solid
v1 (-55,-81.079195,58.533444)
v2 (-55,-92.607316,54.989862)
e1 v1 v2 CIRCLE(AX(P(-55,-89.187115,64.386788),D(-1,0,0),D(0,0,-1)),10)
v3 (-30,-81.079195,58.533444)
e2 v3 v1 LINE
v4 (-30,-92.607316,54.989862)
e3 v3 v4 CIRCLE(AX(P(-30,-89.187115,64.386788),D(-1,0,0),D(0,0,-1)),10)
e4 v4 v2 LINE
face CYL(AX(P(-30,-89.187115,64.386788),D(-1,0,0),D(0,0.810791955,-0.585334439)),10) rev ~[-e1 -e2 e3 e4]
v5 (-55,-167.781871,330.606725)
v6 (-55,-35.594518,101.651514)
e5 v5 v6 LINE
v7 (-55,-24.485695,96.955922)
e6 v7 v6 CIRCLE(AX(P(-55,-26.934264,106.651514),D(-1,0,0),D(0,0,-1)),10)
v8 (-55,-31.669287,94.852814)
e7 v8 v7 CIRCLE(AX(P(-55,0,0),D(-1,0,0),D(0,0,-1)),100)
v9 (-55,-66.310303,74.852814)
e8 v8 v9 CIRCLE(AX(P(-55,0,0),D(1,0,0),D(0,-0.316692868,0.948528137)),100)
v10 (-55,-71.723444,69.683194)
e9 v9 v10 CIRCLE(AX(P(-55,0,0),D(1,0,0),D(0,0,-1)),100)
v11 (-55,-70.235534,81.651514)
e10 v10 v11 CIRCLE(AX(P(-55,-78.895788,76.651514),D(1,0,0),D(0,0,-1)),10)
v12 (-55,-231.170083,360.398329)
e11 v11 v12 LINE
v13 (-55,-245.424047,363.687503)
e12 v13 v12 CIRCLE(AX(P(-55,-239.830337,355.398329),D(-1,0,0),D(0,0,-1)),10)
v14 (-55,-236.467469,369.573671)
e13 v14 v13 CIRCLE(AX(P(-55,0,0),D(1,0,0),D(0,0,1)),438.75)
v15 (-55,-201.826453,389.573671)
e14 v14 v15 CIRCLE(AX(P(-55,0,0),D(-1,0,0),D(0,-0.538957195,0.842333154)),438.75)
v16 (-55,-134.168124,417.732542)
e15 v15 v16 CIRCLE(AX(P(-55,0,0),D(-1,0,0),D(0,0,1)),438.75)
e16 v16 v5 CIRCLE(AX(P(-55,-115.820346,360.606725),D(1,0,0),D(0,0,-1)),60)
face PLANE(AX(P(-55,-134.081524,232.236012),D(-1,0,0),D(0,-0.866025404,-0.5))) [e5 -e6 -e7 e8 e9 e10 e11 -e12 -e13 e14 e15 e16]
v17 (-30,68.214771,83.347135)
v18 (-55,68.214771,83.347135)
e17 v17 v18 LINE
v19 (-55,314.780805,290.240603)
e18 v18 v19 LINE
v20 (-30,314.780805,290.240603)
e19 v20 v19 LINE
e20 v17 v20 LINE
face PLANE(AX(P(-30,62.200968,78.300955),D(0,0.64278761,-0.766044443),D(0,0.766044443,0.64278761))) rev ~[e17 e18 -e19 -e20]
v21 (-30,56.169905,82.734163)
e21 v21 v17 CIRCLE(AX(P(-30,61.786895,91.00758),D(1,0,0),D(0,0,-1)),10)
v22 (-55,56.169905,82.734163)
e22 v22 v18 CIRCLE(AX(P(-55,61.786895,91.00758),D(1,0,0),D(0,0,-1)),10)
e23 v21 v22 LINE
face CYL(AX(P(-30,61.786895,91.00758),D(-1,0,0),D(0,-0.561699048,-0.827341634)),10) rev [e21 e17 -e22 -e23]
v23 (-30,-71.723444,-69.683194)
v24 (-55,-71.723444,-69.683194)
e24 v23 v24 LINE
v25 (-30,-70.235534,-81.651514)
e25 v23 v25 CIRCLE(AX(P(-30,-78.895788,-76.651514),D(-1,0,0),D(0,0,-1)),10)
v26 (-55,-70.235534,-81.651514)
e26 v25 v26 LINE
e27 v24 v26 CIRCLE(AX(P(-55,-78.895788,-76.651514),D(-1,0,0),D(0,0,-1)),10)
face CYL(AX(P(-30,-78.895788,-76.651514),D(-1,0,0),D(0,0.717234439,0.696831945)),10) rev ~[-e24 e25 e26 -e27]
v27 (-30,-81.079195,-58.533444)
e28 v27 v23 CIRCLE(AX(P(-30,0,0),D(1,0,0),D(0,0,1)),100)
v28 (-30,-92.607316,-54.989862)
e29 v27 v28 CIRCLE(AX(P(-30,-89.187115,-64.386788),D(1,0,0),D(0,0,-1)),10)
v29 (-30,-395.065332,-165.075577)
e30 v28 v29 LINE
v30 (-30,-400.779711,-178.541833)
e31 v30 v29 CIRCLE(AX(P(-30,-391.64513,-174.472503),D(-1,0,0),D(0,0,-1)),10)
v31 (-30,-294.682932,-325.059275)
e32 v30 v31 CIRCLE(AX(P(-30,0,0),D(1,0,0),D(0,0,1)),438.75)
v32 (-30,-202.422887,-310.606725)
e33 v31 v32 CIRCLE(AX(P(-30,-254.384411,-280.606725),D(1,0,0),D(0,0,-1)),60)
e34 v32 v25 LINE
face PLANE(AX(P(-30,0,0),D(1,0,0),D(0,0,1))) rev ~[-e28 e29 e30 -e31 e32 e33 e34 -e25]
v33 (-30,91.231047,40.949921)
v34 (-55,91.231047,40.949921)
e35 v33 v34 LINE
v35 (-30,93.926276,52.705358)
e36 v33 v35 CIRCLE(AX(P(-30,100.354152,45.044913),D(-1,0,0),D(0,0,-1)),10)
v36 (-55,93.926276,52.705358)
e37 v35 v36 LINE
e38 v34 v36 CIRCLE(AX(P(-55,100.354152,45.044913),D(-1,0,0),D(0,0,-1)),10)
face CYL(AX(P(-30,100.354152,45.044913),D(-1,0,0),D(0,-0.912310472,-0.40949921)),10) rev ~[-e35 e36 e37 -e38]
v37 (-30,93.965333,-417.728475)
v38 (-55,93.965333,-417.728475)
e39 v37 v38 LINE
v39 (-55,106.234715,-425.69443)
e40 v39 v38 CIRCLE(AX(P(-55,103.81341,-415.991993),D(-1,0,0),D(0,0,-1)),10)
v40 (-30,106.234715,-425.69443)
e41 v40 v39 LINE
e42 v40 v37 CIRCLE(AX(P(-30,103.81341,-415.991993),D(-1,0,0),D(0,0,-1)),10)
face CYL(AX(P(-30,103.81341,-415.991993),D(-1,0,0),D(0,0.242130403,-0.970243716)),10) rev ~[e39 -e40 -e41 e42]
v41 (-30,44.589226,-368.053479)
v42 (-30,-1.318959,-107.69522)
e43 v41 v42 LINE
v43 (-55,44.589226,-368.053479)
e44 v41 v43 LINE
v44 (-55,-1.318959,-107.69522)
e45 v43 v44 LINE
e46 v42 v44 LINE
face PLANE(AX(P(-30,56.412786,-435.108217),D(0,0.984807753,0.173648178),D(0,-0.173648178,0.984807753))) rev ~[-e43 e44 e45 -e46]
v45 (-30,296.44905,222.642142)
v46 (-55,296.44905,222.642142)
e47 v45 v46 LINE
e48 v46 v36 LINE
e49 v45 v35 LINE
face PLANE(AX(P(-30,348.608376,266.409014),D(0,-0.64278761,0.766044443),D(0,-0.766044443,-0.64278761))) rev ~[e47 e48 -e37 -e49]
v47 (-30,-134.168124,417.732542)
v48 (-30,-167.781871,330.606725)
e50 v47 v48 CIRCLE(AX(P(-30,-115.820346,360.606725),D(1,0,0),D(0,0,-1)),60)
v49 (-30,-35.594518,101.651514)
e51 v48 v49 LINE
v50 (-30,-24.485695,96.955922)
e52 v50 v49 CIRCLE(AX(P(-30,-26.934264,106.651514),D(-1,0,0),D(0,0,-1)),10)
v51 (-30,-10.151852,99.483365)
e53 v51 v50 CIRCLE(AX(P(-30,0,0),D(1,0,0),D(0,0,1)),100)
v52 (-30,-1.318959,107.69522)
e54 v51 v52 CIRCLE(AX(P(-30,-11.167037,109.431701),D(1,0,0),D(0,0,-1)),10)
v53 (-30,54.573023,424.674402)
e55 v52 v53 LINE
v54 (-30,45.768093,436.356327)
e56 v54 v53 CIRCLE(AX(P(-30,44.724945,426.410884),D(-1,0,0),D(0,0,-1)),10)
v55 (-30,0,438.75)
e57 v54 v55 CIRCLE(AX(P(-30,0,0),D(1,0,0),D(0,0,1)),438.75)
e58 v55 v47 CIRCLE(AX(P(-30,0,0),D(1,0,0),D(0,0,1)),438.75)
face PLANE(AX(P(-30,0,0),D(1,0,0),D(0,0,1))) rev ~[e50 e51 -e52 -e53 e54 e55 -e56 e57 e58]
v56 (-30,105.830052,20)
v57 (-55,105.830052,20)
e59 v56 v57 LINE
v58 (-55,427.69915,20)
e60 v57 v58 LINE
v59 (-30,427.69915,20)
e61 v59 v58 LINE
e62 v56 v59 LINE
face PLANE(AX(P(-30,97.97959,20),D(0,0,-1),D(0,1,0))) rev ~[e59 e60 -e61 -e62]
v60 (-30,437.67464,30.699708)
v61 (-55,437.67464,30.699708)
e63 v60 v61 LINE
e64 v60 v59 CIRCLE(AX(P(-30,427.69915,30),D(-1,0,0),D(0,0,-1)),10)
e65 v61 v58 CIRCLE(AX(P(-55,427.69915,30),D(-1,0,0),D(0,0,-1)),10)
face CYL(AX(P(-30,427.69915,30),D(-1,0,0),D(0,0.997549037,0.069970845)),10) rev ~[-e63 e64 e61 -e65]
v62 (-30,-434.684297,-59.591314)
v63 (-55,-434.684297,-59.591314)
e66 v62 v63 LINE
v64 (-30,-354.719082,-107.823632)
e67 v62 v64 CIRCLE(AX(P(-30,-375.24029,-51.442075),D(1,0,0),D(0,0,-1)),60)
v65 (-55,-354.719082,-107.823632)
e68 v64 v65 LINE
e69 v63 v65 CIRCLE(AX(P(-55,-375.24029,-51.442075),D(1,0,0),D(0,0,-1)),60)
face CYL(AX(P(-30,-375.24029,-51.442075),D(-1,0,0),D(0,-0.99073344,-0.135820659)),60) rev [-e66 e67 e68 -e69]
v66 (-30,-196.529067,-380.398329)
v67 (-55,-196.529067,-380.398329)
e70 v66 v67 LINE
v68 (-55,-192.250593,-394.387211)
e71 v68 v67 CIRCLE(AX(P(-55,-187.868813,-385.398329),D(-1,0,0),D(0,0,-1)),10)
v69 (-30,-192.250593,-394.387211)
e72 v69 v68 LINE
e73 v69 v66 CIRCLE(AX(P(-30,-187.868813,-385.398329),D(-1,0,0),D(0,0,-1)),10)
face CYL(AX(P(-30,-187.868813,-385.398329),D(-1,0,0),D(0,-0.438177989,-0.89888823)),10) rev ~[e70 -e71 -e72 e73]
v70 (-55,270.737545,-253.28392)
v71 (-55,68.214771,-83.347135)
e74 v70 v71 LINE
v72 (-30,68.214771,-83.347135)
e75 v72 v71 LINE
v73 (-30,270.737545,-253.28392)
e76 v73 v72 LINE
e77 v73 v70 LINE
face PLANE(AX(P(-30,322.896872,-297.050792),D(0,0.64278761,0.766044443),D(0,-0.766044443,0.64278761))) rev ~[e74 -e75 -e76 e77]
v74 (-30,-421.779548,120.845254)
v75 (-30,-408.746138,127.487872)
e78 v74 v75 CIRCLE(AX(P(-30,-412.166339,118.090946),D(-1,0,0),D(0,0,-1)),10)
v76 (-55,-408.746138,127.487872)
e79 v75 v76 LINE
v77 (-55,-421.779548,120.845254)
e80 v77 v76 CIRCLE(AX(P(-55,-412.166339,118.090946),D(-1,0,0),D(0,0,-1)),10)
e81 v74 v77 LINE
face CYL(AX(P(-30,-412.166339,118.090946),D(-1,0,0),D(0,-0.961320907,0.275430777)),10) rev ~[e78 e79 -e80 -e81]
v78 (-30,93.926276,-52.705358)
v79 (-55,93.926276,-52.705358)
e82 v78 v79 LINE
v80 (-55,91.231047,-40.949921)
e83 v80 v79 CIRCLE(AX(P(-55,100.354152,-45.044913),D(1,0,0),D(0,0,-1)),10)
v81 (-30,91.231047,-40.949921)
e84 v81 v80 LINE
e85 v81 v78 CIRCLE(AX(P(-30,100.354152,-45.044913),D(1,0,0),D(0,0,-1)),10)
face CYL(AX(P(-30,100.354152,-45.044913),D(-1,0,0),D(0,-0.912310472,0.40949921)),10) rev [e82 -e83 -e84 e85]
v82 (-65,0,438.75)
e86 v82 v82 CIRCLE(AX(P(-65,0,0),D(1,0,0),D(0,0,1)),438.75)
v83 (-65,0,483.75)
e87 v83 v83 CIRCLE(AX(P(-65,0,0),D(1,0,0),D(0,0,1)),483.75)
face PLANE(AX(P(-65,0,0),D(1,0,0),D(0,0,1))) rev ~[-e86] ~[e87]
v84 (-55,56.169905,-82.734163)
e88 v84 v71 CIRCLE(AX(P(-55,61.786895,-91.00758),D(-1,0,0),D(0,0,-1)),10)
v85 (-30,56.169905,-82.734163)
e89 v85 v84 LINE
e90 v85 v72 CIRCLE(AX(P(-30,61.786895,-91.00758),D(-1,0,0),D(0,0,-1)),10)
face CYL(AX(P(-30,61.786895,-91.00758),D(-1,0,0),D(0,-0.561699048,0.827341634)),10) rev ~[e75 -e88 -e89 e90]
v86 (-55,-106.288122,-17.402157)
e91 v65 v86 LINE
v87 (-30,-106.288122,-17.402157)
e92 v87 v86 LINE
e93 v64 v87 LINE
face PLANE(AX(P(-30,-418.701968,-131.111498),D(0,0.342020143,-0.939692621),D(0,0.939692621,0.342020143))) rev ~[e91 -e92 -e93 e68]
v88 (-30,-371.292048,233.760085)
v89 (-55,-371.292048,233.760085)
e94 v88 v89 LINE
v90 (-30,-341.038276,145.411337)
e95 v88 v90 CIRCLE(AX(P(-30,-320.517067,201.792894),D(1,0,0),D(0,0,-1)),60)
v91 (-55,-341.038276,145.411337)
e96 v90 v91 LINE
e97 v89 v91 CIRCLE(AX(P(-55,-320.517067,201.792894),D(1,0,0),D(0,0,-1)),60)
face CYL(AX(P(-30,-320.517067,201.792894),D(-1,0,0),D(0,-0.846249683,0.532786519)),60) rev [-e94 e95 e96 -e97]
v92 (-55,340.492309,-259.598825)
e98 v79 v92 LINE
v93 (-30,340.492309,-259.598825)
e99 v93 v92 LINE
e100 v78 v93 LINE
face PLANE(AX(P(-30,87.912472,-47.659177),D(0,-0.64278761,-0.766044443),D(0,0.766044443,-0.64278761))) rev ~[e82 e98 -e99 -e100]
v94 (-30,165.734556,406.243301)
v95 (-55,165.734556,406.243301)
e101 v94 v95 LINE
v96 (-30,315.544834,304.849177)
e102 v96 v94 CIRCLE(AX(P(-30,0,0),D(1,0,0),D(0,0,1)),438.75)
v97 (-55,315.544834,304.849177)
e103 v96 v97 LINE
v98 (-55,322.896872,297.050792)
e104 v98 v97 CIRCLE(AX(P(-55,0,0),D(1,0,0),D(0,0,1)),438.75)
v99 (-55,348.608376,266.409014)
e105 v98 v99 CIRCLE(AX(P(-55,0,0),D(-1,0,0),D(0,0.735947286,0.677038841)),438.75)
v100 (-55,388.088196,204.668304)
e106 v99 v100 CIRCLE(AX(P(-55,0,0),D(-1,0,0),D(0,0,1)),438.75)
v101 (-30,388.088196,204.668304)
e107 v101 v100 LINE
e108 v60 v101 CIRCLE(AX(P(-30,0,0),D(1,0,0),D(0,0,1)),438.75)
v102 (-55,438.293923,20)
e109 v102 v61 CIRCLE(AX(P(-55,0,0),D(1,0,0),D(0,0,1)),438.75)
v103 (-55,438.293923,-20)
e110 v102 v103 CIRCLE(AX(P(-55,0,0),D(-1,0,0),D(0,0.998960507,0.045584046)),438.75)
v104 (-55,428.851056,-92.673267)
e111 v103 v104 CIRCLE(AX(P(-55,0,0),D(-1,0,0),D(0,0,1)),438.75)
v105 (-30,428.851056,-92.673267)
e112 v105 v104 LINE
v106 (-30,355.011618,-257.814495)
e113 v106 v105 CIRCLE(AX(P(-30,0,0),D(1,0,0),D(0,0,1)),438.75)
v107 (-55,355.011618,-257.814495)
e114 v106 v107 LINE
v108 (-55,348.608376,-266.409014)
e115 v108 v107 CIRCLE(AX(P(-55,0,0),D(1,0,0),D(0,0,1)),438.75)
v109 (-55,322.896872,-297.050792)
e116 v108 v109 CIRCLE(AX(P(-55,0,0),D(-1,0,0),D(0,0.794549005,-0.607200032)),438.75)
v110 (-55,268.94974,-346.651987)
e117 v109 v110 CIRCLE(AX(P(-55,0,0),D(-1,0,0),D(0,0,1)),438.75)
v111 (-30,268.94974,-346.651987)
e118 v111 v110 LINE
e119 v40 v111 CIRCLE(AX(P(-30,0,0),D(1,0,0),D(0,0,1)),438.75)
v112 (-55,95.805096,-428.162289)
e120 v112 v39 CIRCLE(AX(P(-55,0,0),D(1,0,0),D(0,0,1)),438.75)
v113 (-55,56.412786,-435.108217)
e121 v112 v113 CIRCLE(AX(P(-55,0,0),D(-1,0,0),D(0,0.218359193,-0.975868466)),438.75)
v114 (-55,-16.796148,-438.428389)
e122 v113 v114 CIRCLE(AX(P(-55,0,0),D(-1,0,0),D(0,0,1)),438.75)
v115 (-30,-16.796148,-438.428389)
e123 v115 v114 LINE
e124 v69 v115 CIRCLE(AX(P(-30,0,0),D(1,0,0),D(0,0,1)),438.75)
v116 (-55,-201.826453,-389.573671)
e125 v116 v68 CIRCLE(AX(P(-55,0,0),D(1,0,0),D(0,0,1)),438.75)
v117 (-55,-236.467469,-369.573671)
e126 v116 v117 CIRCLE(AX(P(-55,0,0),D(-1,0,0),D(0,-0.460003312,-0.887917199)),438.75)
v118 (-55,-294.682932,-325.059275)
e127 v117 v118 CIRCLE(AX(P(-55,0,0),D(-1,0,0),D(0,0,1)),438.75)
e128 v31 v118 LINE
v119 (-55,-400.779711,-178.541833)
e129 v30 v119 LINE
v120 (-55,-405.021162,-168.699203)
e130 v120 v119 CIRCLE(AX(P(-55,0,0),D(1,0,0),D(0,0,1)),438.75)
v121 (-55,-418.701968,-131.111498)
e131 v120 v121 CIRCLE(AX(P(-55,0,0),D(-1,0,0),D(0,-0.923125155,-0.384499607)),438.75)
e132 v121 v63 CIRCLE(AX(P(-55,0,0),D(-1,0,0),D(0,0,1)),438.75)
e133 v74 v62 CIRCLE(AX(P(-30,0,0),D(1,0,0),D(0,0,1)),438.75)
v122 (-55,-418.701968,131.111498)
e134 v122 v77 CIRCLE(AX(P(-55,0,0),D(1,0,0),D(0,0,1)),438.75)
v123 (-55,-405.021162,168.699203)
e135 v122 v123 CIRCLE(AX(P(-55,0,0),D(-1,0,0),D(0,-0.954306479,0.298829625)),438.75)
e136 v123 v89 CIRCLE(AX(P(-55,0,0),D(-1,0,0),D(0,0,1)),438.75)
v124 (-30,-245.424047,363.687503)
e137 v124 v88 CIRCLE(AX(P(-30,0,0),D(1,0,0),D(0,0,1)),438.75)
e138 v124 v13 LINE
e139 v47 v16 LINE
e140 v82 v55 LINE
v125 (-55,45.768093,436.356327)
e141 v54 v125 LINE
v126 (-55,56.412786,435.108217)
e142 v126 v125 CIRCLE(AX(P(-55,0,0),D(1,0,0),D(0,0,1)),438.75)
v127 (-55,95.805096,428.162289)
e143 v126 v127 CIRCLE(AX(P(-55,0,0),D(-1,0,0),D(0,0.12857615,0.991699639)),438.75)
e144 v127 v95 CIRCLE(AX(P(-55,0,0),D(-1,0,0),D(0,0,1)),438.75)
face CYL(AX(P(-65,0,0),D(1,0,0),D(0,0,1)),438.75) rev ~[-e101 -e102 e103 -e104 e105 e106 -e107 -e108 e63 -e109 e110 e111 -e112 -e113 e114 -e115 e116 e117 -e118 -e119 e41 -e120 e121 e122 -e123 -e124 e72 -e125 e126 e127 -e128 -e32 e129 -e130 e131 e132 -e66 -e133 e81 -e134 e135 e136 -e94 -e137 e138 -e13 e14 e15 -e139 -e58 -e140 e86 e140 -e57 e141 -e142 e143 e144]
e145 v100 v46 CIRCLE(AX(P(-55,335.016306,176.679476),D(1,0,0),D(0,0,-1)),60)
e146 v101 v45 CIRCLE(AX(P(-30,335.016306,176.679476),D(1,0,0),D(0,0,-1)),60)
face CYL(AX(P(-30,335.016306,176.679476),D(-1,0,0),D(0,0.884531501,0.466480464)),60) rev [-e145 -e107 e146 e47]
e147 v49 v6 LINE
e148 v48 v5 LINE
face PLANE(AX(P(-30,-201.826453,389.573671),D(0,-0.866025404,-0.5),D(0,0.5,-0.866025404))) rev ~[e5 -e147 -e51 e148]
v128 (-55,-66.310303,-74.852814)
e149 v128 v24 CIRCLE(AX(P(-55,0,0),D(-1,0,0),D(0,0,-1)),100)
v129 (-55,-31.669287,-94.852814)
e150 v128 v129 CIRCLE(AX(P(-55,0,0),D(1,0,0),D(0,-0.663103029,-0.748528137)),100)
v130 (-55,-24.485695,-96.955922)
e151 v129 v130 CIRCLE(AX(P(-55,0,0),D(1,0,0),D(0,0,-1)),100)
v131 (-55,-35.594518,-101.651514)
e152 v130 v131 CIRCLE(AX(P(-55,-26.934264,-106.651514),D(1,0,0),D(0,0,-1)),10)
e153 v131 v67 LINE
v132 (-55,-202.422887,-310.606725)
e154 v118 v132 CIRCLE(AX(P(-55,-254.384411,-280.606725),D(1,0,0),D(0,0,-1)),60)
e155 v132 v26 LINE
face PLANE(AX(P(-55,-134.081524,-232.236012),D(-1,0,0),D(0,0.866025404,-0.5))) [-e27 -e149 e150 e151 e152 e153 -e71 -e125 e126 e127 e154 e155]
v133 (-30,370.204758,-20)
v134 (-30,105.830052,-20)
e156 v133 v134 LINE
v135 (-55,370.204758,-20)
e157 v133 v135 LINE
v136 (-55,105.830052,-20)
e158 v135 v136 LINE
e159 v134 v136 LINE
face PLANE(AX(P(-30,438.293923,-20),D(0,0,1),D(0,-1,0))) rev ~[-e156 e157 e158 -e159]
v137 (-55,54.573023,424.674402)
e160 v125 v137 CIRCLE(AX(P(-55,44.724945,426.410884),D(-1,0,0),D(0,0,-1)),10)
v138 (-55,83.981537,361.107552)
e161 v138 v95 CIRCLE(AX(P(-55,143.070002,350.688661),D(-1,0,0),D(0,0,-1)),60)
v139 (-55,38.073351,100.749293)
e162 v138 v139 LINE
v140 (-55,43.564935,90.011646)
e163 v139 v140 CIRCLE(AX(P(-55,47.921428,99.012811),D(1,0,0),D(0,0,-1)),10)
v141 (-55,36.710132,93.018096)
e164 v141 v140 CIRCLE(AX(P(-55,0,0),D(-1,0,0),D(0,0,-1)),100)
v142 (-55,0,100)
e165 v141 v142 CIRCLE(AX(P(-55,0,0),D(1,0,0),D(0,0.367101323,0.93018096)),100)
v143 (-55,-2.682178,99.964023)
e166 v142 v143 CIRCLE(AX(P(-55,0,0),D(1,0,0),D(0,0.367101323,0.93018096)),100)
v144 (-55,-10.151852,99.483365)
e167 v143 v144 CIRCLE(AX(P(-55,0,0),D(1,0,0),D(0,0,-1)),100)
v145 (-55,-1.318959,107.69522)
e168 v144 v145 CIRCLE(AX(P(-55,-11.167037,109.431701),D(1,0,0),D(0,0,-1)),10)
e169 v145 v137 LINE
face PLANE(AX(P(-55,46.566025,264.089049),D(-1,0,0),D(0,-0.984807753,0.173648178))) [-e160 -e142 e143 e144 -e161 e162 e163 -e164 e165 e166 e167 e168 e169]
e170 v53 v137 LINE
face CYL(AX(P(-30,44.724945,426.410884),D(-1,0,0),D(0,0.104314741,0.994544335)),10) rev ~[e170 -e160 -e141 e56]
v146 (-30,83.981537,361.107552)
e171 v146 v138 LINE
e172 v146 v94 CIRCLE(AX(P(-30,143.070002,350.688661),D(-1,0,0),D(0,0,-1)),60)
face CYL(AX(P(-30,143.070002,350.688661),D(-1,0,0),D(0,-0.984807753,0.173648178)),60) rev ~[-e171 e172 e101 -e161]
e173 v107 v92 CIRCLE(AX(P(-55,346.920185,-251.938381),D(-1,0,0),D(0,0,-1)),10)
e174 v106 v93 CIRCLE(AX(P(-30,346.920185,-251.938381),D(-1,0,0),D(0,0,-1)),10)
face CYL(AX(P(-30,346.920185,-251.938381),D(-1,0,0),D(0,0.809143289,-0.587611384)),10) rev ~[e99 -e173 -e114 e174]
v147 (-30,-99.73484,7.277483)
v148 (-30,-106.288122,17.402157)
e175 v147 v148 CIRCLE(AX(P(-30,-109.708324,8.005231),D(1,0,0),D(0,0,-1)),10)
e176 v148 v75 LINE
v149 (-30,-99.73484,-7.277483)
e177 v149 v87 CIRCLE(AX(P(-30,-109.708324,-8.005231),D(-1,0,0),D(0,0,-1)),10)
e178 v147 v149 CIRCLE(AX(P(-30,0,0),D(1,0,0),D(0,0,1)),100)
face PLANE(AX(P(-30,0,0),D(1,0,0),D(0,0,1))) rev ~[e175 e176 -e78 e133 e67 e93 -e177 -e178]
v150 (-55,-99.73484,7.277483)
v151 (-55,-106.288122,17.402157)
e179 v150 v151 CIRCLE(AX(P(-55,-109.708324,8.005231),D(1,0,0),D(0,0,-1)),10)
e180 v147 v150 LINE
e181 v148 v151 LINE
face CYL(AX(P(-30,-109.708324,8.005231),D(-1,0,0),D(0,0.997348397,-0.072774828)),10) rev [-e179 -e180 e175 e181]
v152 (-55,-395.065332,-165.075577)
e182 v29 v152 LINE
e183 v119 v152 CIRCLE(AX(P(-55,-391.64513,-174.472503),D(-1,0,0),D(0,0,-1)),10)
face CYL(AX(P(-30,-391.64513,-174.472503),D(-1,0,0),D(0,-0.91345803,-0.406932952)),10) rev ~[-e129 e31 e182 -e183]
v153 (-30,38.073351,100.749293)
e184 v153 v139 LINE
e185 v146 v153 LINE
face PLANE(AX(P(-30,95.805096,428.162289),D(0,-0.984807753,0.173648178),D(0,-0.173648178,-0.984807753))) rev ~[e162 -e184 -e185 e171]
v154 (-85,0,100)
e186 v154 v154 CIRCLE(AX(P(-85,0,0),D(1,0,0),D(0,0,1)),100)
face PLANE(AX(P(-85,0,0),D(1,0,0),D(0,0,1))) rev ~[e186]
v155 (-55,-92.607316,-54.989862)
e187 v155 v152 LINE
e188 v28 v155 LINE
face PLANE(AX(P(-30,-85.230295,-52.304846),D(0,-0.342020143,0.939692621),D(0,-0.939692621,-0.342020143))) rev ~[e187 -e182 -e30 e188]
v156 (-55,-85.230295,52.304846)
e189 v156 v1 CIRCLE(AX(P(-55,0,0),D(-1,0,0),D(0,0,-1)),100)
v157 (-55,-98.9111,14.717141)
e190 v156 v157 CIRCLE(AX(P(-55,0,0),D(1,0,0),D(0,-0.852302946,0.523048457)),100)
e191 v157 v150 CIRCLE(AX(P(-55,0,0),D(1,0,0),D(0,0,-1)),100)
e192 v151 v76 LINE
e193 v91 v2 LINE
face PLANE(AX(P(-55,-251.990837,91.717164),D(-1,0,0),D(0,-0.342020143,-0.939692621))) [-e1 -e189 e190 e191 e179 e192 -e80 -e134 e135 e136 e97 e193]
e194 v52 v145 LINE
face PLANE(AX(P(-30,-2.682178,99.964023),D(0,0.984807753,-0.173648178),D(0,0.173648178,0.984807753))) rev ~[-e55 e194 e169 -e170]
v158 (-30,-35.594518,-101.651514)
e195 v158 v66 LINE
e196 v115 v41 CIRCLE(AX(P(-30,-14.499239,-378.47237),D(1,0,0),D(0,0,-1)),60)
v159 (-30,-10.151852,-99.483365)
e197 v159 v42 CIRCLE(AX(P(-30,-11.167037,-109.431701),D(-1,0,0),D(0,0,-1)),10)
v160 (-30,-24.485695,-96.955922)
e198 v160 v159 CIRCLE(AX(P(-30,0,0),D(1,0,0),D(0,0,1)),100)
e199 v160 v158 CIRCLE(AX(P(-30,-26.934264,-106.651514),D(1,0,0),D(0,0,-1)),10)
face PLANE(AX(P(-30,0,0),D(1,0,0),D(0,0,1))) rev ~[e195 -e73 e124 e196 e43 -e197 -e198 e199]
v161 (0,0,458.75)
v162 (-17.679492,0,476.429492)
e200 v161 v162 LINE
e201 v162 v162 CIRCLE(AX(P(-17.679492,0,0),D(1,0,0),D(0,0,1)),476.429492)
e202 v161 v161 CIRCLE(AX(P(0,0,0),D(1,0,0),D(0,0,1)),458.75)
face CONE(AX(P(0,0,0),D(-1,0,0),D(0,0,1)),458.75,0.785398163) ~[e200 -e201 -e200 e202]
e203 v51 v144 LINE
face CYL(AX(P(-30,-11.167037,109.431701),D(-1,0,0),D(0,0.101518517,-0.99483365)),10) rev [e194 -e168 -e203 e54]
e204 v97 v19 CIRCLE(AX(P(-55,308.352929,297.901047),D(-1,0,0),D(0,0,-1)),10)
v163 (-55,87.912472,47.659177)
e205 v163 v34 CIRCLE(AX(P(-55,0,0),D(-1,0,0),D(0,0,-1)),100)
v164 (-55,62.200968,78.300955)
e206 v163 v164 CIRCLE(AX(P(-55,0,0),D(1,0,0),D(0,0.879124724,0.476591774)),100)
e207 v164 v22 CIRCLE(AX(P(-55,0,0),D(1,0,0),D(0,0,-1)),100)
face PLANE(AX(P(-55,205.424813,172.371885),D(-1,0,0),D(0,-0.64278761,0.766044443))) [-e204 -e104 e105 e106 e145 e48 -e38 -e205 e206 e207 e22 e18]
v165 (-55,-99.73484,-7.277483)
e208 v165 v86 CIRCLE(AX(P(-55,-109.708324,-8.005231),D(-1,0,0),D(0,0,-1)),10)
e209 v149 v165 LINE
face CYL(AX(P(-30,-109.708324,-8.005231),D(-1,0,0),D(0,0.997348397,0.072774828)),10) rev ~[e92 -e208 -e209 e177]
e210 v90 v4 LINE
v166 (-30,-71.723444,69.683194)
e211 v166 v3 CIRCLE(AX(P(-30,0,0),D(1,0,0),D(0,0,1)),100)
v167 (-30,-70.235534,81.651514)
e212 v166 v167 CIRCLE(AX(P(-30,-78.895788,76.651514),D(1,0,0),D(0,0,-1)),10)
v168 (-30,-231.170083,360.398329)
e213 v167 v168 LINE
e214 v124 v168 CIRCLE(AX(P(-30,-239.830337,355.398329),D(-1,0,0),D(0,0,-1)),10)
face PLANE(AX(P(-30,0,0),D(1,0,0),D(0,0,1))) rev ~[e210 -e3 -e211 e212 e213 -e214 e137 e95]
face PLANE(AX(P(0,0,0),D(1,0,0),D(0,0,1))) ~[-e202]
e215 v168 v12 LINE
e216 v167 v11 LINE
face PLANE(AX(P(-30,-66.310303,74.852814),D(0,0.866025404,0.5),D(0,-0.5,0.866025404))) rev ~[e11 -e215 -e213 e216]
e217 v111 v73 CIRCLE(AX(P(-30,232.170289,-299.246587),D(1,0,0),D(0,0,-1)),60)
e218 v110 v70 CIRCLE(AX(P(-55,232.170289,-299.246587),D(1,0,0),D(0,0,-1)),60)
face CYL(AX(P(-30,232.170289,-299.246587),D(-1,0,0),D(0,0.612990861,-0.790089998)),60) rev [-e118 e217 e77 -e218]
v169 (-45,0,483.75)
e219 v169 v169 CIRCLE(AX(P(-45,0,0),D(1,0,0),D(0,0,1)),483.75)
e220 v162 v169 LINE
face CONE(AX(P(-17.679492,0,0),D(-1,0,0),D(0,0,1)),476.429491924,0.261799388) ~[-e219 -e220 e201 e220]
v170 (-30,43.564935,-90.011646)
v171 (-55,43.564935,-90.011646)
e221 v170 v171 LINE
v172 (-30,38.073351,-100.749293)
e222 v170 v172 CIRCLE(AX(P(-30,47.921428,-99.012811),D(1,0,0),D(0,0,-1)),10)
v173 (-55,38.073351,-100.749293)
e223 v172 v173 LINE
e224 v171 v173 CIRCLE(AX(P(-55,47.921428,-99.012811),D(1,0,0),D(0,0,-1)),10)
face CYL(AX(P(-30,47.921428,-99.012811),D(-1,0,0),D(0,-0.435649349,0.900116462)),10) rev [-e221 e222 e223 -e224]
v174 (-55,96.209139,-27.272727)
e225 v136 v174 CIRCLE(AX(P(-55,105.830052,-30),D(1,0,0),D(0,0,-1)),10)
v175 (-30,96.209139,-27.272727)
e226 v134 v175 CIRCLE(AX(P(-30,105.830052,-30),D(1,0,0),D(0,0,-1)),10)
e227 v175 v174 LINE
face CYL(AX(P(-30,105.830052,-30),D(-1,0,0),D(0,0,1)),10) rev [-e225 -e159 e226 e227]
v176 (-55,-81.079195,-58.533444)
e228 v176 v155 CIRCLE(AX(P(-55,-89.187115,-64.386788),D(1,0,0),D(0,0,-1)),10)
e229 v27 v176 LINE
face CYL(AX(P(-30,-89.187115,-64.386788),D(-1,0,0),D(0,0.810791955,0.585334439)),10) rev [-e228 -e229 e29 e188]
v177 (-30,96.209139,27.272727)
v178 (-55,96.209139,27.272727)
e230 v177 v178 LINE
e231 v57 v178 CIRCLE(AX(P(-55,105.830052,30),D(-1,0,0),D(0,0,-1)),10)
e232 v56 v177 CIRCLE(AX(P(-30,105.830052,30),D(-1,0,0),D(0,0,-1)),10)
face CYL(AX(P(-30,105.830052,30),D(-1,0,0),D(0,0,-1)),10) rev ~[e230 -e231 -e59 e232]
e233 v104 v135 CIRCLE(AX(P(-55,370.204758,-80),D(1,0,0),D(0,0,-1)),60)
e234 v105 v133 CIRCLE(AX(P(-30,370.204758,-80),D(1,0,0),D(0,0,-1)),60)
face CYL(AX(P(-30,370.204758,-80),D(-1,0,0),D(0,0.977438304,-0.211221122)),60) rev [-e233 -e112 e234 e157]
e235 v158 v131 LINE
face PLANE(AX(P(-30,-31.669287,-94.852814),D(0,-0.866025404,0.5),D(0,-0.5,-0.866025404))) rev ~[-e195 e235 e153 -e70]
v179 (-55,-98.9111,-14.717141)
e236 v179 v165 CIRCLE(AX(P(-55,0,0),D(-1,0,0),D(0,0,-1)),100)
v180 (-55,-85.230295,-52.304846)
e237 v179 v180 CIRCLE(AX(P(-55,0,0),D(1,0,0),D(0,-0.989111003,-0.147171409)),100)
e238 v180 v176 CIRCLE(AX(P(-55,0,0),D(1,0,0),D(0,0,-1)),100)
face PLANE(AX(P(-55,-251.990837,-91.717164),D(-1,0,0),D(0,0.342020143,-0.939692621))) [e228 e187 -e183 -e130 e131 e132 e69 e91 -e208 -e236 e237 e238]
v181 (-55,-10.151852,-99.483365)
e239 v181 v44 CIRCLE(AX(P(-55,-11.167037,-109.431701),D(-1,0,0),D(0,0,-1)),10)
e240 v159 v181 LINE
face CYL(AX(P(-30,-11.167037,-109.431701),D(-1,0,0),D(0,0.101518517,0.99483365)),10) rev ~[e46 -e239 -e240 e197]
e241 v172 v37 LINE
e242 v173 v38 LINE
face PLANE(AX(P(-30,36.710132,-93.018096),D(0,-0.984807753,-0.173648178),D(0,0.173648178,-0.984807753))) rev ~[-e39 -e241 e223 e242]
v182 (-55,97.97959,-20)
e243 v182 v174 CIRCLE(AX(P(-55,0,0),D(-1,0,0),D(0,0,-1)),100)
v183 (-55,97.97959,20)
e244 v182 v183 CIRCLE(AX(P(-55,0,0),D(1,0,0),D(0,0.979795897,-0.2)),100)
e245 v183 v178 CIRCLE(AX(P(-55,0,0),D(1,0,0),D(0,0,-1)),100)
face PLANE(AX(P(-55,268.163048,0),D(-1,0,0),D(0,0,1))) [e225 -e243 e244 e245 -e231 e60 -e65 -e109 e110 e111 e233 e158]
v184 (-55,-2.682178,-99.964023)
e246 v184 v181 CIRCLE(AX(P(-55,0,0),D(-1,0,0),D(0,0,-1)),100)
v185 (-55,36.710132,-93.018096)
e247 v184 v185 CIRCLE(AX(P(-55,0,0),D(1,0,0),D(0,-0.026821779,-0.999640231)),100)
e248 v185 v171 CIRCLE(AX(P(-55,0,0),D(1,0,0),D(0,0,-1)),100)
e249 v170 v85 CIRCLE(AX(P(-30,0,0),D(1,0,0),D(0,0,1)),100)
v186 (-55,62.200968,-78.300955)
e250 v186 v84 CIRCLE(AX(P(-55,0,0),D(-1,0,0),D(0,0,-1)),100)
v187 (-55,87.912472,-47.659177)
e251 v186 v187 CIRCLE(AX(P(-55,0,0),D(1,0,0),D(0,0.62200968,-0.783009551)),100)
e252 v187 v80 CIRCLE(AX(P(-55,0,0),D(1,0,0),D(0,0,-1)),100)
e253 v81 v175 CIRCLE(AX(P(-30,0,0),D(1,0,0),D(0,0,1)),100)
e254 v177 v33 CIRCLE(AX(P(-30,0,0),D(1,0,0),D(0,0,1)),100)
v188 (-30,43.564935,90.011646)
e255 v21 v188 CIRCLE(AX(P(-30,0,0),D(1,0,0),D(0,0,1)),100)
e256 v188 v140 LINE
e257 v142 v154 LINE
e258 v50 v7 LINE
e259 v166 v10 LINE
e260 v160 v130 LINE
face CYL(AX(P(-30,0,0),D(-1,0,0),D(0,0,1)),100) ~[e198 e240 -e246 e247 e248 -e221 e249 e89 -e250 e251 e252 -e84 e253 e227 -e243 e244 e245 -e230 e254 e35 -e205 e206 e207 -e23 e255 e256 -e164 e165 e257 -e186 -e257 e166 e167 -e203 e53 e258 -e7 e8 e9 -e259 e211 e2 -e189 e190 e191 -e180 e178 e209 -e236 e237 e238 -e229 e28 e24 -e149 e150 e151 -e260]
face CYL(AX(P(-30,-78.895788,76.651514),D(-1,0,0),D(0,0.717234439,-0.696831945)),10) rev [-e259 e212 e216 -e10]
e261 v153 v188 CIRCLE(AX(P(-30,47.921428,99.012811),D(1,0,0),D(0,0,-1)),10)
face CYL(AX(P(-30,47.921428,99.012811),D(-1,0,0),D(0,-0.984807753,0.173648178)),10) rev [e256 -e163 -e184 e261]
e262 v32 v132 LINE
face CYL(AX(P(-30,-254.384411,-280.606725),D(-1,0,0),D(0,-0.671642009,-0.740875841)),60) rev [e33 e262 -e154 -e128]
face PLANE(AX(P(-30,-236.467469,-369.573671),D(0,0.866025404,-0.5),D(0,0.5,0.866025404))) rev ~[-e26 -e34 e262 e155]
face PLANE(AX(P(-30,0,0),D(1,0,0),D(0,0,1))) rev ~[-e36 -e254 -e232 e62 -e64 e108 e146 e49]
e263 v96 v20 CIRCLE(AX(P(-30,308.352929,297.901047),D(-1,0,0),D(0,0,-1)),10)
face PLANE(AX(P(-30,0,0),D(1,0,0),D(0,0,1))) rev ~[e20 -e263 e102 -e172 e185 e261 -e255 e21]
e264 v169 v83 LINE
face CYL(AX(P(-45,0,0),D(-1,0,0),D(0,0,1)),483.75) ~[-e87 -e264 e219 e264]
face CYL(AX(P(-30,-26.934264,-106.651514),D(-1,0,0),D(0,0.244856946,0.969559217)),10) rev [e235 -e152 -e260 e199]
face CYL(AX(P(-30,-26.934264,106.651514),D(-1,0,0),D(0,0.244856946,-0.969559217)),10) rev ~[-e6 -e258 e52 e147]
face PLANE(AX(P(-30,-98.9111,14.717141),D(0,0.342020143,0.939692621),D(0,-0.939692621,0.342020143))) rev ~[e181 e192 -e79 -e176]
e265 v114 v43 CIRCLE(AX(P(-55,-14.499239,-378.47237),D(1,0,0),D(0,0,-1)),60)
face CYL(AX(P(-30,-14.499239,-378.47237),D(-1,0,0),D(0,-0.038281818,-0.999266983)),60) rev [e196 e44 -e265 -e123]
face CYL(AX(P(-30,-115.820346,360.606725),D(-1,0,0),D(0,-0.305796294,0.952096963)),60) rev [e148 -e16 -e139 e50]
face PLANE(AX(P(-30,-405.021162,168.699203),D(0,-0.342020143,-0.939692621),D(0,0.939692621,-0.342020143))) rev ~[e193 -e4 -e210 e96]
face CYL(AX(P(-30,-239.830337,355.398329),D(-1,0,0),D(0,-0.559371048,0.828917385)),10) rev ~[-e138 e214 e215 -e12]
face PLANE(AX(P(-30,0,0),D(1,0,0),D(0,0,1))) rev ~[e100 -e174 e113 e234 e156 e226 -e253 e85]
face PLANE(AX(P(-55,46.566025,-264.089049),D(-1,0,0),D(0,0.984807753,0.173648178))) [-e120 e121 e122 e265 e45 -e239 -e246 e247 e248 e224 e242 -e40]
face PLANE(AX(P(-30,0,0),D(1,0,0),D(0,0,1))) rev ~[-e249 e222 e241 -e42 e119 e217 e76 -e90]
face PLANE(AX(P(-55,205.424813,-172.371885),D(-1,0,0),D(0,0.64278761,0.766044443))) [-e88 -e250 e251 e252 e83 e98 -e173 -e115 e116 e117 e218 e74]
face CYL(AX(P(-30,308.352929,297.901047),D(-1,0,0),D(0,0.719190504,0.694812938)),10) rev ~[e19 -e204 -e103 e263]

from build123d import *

# Parameters (mm, degrees)
EXTRUDE_1_DEPTH                  = 25
FILLET_3_R                       = 60
FILLET_4_R                       = 10
PATTERN_CIRCULAR_1_COUNT         = 9
FILLET_3_OF_PATTERN_CIRCULAR_1_R = 60
FILLET_4_OF_PATTERN_CIRCULAR_1_R = 10


with BuildPart() as part:
    # 草图1 → 旋转1 (revolve)
    with BuildSketch(Plane.XY, mode=Mode.PRIVATE) as revolve_1_sk:
        Polygon((0, 0), (0, 458.75), (-17.679491924, 476.429491924), (-45, 483.75), (-65, 483.75), (-65, 438.75), (-30, 438.75), (-30, 100), (-85, 100), (-85, 0), align=None)
    revolve(revolve_1_sk.sketch.rotate(Axis((-619.297947583, 0, 0), (1, 0, 0)), 90), axis=Axis((-619.297947583, 0, 0), (1, 0, 0)))

    # 草图3 → 凸台-拉伸1 (add)
    with BuildSketch(Plane.ZY.offset(30)):
        with BuildLine():
            ThreePointArc((20, 438.2939225), (0, 438.75), (-20, 438.2939225))
            Line((-20, 438.2939225), (-20, 97.979589711))
            ThreePointArc((-20, 97.979589711), (0, 100), (20, 97.979589711))
            Line((20, 97.979589711), (20, 438.2939225))
        make_face()
    extrude_1 = extrude(amount=EXTRUDE_1_DEPTH)

    # 圆角3
    fillet_3_edges = [part.edges().sort_by_distance(p)[0] for p in [
        (-42.5, 438.2939225, -20),
    ]]
    fillet(fillet_3_edges, radius=FILLET_3_R)

    # 圆角4
    fillet_4_edges = [part.edges().sort_by_distance(p)[0] for p in [
        (-42.5, 438.2939225, 20),
        (-42.5, 97.979589711, 20),
        (-42.5, 97.979589711, -20),
    ]]
    fillet(fillet_4_edges, radius=FILLET_4_R)

    # 阵列(圆周)1: 凸台-拉伸1 ×9 about axis
    pattern_circular_1_axis = Axis((0, 0, 0), (1, 0, 0))
    for i in range(1, PATTERN_CIRCULAR_1_COUNT):
        add(extrude_1.rotate(pattern_circular_1_axis, i * 360 / PATTERN_CIRCULAR_1_COUNT))

    # 圆角3 of 阵列(圆周)1
    fillet_3_of_pattern_circular_1_edges = [part.edges().sort_by_distance(p)[0] for p in [
        (-42.5, 348.608375977, 266.409013921),
        (-42.5, 95.805095985, 428.162289422),
        (-42.5, -201.826453174, 389.573671209),
        (-42.5, -405.021161842, 168.699202608),
        (-42.5, -418.701967575, -131.111497776),
        (-42.5, -236.467469325, -369.573671209),
        (-42.5, 56.412785864, -435.108216529),
        (-42.5, 322.89687159, -297.050791646),
    ]]
    fillet(fillet_3_of_pattern_circular_1_edges, radius=FILLET_3_OF_PATTERN_CIRCULAR_1_R)

    # 圆角4 of 阵列(圆周)1
    fillet_4_of_pattern_circular_1_edges = [part.edges().sort_by_distance(p)[0] for p in [
        (-42.5, 322.89687159, 297.050791646),
        (-42.5, 62.200968044, 78.300955131),
        (-42.5, 87.912472431, 47.659177406),
        (-42.5, 56.412785864, 435.108216529),
        (-42.5, -2.682177858, 99.964023138),
        (-42.5, 36.710132262, 93.018096031),
        (-42.5, -236.467469325, 369.573671209),
        (-42.5, -66.310302931, 74.852813742),
        (-42.5, -31.66928678, 94.852813742),
        (-42.5, -418.701967575, 131.111497776),
        (-42.5, -98.911100306, 14.7171409),
        (-42.5, -85.230294573, 52.304845732),
        (-42.5, -405.021161842, -168.699202608),
        (-42.5, -85.230294573, -52.304845732),
        (-42.5, -98.911100306, -14.7171409),
        (-42.5, -201.826453174, -389.573671209),
        (-42.5, -31.66928678, -94.852813742),
        (-42.5, -66.310302931, -74.852813742),
        (-42.5, 95.805095985, -428.162289422),
        (-42.5, 36.710132262, -93.018096031),
        (-42.5, -2.682177858, -99.964023138),
        (-42.5, 348.608375977, -266.409013921),
        (-42.5, 87.912472431, -47.659177406),
        (-42.5, 62.200968044, -78.300955131),
    ]]
    fillet(fillet_4_of_pattern_circular_1_edges, radius=FILLET_4_OF_PATTERN_CIRCULAR_1_R)


solid = part.part
